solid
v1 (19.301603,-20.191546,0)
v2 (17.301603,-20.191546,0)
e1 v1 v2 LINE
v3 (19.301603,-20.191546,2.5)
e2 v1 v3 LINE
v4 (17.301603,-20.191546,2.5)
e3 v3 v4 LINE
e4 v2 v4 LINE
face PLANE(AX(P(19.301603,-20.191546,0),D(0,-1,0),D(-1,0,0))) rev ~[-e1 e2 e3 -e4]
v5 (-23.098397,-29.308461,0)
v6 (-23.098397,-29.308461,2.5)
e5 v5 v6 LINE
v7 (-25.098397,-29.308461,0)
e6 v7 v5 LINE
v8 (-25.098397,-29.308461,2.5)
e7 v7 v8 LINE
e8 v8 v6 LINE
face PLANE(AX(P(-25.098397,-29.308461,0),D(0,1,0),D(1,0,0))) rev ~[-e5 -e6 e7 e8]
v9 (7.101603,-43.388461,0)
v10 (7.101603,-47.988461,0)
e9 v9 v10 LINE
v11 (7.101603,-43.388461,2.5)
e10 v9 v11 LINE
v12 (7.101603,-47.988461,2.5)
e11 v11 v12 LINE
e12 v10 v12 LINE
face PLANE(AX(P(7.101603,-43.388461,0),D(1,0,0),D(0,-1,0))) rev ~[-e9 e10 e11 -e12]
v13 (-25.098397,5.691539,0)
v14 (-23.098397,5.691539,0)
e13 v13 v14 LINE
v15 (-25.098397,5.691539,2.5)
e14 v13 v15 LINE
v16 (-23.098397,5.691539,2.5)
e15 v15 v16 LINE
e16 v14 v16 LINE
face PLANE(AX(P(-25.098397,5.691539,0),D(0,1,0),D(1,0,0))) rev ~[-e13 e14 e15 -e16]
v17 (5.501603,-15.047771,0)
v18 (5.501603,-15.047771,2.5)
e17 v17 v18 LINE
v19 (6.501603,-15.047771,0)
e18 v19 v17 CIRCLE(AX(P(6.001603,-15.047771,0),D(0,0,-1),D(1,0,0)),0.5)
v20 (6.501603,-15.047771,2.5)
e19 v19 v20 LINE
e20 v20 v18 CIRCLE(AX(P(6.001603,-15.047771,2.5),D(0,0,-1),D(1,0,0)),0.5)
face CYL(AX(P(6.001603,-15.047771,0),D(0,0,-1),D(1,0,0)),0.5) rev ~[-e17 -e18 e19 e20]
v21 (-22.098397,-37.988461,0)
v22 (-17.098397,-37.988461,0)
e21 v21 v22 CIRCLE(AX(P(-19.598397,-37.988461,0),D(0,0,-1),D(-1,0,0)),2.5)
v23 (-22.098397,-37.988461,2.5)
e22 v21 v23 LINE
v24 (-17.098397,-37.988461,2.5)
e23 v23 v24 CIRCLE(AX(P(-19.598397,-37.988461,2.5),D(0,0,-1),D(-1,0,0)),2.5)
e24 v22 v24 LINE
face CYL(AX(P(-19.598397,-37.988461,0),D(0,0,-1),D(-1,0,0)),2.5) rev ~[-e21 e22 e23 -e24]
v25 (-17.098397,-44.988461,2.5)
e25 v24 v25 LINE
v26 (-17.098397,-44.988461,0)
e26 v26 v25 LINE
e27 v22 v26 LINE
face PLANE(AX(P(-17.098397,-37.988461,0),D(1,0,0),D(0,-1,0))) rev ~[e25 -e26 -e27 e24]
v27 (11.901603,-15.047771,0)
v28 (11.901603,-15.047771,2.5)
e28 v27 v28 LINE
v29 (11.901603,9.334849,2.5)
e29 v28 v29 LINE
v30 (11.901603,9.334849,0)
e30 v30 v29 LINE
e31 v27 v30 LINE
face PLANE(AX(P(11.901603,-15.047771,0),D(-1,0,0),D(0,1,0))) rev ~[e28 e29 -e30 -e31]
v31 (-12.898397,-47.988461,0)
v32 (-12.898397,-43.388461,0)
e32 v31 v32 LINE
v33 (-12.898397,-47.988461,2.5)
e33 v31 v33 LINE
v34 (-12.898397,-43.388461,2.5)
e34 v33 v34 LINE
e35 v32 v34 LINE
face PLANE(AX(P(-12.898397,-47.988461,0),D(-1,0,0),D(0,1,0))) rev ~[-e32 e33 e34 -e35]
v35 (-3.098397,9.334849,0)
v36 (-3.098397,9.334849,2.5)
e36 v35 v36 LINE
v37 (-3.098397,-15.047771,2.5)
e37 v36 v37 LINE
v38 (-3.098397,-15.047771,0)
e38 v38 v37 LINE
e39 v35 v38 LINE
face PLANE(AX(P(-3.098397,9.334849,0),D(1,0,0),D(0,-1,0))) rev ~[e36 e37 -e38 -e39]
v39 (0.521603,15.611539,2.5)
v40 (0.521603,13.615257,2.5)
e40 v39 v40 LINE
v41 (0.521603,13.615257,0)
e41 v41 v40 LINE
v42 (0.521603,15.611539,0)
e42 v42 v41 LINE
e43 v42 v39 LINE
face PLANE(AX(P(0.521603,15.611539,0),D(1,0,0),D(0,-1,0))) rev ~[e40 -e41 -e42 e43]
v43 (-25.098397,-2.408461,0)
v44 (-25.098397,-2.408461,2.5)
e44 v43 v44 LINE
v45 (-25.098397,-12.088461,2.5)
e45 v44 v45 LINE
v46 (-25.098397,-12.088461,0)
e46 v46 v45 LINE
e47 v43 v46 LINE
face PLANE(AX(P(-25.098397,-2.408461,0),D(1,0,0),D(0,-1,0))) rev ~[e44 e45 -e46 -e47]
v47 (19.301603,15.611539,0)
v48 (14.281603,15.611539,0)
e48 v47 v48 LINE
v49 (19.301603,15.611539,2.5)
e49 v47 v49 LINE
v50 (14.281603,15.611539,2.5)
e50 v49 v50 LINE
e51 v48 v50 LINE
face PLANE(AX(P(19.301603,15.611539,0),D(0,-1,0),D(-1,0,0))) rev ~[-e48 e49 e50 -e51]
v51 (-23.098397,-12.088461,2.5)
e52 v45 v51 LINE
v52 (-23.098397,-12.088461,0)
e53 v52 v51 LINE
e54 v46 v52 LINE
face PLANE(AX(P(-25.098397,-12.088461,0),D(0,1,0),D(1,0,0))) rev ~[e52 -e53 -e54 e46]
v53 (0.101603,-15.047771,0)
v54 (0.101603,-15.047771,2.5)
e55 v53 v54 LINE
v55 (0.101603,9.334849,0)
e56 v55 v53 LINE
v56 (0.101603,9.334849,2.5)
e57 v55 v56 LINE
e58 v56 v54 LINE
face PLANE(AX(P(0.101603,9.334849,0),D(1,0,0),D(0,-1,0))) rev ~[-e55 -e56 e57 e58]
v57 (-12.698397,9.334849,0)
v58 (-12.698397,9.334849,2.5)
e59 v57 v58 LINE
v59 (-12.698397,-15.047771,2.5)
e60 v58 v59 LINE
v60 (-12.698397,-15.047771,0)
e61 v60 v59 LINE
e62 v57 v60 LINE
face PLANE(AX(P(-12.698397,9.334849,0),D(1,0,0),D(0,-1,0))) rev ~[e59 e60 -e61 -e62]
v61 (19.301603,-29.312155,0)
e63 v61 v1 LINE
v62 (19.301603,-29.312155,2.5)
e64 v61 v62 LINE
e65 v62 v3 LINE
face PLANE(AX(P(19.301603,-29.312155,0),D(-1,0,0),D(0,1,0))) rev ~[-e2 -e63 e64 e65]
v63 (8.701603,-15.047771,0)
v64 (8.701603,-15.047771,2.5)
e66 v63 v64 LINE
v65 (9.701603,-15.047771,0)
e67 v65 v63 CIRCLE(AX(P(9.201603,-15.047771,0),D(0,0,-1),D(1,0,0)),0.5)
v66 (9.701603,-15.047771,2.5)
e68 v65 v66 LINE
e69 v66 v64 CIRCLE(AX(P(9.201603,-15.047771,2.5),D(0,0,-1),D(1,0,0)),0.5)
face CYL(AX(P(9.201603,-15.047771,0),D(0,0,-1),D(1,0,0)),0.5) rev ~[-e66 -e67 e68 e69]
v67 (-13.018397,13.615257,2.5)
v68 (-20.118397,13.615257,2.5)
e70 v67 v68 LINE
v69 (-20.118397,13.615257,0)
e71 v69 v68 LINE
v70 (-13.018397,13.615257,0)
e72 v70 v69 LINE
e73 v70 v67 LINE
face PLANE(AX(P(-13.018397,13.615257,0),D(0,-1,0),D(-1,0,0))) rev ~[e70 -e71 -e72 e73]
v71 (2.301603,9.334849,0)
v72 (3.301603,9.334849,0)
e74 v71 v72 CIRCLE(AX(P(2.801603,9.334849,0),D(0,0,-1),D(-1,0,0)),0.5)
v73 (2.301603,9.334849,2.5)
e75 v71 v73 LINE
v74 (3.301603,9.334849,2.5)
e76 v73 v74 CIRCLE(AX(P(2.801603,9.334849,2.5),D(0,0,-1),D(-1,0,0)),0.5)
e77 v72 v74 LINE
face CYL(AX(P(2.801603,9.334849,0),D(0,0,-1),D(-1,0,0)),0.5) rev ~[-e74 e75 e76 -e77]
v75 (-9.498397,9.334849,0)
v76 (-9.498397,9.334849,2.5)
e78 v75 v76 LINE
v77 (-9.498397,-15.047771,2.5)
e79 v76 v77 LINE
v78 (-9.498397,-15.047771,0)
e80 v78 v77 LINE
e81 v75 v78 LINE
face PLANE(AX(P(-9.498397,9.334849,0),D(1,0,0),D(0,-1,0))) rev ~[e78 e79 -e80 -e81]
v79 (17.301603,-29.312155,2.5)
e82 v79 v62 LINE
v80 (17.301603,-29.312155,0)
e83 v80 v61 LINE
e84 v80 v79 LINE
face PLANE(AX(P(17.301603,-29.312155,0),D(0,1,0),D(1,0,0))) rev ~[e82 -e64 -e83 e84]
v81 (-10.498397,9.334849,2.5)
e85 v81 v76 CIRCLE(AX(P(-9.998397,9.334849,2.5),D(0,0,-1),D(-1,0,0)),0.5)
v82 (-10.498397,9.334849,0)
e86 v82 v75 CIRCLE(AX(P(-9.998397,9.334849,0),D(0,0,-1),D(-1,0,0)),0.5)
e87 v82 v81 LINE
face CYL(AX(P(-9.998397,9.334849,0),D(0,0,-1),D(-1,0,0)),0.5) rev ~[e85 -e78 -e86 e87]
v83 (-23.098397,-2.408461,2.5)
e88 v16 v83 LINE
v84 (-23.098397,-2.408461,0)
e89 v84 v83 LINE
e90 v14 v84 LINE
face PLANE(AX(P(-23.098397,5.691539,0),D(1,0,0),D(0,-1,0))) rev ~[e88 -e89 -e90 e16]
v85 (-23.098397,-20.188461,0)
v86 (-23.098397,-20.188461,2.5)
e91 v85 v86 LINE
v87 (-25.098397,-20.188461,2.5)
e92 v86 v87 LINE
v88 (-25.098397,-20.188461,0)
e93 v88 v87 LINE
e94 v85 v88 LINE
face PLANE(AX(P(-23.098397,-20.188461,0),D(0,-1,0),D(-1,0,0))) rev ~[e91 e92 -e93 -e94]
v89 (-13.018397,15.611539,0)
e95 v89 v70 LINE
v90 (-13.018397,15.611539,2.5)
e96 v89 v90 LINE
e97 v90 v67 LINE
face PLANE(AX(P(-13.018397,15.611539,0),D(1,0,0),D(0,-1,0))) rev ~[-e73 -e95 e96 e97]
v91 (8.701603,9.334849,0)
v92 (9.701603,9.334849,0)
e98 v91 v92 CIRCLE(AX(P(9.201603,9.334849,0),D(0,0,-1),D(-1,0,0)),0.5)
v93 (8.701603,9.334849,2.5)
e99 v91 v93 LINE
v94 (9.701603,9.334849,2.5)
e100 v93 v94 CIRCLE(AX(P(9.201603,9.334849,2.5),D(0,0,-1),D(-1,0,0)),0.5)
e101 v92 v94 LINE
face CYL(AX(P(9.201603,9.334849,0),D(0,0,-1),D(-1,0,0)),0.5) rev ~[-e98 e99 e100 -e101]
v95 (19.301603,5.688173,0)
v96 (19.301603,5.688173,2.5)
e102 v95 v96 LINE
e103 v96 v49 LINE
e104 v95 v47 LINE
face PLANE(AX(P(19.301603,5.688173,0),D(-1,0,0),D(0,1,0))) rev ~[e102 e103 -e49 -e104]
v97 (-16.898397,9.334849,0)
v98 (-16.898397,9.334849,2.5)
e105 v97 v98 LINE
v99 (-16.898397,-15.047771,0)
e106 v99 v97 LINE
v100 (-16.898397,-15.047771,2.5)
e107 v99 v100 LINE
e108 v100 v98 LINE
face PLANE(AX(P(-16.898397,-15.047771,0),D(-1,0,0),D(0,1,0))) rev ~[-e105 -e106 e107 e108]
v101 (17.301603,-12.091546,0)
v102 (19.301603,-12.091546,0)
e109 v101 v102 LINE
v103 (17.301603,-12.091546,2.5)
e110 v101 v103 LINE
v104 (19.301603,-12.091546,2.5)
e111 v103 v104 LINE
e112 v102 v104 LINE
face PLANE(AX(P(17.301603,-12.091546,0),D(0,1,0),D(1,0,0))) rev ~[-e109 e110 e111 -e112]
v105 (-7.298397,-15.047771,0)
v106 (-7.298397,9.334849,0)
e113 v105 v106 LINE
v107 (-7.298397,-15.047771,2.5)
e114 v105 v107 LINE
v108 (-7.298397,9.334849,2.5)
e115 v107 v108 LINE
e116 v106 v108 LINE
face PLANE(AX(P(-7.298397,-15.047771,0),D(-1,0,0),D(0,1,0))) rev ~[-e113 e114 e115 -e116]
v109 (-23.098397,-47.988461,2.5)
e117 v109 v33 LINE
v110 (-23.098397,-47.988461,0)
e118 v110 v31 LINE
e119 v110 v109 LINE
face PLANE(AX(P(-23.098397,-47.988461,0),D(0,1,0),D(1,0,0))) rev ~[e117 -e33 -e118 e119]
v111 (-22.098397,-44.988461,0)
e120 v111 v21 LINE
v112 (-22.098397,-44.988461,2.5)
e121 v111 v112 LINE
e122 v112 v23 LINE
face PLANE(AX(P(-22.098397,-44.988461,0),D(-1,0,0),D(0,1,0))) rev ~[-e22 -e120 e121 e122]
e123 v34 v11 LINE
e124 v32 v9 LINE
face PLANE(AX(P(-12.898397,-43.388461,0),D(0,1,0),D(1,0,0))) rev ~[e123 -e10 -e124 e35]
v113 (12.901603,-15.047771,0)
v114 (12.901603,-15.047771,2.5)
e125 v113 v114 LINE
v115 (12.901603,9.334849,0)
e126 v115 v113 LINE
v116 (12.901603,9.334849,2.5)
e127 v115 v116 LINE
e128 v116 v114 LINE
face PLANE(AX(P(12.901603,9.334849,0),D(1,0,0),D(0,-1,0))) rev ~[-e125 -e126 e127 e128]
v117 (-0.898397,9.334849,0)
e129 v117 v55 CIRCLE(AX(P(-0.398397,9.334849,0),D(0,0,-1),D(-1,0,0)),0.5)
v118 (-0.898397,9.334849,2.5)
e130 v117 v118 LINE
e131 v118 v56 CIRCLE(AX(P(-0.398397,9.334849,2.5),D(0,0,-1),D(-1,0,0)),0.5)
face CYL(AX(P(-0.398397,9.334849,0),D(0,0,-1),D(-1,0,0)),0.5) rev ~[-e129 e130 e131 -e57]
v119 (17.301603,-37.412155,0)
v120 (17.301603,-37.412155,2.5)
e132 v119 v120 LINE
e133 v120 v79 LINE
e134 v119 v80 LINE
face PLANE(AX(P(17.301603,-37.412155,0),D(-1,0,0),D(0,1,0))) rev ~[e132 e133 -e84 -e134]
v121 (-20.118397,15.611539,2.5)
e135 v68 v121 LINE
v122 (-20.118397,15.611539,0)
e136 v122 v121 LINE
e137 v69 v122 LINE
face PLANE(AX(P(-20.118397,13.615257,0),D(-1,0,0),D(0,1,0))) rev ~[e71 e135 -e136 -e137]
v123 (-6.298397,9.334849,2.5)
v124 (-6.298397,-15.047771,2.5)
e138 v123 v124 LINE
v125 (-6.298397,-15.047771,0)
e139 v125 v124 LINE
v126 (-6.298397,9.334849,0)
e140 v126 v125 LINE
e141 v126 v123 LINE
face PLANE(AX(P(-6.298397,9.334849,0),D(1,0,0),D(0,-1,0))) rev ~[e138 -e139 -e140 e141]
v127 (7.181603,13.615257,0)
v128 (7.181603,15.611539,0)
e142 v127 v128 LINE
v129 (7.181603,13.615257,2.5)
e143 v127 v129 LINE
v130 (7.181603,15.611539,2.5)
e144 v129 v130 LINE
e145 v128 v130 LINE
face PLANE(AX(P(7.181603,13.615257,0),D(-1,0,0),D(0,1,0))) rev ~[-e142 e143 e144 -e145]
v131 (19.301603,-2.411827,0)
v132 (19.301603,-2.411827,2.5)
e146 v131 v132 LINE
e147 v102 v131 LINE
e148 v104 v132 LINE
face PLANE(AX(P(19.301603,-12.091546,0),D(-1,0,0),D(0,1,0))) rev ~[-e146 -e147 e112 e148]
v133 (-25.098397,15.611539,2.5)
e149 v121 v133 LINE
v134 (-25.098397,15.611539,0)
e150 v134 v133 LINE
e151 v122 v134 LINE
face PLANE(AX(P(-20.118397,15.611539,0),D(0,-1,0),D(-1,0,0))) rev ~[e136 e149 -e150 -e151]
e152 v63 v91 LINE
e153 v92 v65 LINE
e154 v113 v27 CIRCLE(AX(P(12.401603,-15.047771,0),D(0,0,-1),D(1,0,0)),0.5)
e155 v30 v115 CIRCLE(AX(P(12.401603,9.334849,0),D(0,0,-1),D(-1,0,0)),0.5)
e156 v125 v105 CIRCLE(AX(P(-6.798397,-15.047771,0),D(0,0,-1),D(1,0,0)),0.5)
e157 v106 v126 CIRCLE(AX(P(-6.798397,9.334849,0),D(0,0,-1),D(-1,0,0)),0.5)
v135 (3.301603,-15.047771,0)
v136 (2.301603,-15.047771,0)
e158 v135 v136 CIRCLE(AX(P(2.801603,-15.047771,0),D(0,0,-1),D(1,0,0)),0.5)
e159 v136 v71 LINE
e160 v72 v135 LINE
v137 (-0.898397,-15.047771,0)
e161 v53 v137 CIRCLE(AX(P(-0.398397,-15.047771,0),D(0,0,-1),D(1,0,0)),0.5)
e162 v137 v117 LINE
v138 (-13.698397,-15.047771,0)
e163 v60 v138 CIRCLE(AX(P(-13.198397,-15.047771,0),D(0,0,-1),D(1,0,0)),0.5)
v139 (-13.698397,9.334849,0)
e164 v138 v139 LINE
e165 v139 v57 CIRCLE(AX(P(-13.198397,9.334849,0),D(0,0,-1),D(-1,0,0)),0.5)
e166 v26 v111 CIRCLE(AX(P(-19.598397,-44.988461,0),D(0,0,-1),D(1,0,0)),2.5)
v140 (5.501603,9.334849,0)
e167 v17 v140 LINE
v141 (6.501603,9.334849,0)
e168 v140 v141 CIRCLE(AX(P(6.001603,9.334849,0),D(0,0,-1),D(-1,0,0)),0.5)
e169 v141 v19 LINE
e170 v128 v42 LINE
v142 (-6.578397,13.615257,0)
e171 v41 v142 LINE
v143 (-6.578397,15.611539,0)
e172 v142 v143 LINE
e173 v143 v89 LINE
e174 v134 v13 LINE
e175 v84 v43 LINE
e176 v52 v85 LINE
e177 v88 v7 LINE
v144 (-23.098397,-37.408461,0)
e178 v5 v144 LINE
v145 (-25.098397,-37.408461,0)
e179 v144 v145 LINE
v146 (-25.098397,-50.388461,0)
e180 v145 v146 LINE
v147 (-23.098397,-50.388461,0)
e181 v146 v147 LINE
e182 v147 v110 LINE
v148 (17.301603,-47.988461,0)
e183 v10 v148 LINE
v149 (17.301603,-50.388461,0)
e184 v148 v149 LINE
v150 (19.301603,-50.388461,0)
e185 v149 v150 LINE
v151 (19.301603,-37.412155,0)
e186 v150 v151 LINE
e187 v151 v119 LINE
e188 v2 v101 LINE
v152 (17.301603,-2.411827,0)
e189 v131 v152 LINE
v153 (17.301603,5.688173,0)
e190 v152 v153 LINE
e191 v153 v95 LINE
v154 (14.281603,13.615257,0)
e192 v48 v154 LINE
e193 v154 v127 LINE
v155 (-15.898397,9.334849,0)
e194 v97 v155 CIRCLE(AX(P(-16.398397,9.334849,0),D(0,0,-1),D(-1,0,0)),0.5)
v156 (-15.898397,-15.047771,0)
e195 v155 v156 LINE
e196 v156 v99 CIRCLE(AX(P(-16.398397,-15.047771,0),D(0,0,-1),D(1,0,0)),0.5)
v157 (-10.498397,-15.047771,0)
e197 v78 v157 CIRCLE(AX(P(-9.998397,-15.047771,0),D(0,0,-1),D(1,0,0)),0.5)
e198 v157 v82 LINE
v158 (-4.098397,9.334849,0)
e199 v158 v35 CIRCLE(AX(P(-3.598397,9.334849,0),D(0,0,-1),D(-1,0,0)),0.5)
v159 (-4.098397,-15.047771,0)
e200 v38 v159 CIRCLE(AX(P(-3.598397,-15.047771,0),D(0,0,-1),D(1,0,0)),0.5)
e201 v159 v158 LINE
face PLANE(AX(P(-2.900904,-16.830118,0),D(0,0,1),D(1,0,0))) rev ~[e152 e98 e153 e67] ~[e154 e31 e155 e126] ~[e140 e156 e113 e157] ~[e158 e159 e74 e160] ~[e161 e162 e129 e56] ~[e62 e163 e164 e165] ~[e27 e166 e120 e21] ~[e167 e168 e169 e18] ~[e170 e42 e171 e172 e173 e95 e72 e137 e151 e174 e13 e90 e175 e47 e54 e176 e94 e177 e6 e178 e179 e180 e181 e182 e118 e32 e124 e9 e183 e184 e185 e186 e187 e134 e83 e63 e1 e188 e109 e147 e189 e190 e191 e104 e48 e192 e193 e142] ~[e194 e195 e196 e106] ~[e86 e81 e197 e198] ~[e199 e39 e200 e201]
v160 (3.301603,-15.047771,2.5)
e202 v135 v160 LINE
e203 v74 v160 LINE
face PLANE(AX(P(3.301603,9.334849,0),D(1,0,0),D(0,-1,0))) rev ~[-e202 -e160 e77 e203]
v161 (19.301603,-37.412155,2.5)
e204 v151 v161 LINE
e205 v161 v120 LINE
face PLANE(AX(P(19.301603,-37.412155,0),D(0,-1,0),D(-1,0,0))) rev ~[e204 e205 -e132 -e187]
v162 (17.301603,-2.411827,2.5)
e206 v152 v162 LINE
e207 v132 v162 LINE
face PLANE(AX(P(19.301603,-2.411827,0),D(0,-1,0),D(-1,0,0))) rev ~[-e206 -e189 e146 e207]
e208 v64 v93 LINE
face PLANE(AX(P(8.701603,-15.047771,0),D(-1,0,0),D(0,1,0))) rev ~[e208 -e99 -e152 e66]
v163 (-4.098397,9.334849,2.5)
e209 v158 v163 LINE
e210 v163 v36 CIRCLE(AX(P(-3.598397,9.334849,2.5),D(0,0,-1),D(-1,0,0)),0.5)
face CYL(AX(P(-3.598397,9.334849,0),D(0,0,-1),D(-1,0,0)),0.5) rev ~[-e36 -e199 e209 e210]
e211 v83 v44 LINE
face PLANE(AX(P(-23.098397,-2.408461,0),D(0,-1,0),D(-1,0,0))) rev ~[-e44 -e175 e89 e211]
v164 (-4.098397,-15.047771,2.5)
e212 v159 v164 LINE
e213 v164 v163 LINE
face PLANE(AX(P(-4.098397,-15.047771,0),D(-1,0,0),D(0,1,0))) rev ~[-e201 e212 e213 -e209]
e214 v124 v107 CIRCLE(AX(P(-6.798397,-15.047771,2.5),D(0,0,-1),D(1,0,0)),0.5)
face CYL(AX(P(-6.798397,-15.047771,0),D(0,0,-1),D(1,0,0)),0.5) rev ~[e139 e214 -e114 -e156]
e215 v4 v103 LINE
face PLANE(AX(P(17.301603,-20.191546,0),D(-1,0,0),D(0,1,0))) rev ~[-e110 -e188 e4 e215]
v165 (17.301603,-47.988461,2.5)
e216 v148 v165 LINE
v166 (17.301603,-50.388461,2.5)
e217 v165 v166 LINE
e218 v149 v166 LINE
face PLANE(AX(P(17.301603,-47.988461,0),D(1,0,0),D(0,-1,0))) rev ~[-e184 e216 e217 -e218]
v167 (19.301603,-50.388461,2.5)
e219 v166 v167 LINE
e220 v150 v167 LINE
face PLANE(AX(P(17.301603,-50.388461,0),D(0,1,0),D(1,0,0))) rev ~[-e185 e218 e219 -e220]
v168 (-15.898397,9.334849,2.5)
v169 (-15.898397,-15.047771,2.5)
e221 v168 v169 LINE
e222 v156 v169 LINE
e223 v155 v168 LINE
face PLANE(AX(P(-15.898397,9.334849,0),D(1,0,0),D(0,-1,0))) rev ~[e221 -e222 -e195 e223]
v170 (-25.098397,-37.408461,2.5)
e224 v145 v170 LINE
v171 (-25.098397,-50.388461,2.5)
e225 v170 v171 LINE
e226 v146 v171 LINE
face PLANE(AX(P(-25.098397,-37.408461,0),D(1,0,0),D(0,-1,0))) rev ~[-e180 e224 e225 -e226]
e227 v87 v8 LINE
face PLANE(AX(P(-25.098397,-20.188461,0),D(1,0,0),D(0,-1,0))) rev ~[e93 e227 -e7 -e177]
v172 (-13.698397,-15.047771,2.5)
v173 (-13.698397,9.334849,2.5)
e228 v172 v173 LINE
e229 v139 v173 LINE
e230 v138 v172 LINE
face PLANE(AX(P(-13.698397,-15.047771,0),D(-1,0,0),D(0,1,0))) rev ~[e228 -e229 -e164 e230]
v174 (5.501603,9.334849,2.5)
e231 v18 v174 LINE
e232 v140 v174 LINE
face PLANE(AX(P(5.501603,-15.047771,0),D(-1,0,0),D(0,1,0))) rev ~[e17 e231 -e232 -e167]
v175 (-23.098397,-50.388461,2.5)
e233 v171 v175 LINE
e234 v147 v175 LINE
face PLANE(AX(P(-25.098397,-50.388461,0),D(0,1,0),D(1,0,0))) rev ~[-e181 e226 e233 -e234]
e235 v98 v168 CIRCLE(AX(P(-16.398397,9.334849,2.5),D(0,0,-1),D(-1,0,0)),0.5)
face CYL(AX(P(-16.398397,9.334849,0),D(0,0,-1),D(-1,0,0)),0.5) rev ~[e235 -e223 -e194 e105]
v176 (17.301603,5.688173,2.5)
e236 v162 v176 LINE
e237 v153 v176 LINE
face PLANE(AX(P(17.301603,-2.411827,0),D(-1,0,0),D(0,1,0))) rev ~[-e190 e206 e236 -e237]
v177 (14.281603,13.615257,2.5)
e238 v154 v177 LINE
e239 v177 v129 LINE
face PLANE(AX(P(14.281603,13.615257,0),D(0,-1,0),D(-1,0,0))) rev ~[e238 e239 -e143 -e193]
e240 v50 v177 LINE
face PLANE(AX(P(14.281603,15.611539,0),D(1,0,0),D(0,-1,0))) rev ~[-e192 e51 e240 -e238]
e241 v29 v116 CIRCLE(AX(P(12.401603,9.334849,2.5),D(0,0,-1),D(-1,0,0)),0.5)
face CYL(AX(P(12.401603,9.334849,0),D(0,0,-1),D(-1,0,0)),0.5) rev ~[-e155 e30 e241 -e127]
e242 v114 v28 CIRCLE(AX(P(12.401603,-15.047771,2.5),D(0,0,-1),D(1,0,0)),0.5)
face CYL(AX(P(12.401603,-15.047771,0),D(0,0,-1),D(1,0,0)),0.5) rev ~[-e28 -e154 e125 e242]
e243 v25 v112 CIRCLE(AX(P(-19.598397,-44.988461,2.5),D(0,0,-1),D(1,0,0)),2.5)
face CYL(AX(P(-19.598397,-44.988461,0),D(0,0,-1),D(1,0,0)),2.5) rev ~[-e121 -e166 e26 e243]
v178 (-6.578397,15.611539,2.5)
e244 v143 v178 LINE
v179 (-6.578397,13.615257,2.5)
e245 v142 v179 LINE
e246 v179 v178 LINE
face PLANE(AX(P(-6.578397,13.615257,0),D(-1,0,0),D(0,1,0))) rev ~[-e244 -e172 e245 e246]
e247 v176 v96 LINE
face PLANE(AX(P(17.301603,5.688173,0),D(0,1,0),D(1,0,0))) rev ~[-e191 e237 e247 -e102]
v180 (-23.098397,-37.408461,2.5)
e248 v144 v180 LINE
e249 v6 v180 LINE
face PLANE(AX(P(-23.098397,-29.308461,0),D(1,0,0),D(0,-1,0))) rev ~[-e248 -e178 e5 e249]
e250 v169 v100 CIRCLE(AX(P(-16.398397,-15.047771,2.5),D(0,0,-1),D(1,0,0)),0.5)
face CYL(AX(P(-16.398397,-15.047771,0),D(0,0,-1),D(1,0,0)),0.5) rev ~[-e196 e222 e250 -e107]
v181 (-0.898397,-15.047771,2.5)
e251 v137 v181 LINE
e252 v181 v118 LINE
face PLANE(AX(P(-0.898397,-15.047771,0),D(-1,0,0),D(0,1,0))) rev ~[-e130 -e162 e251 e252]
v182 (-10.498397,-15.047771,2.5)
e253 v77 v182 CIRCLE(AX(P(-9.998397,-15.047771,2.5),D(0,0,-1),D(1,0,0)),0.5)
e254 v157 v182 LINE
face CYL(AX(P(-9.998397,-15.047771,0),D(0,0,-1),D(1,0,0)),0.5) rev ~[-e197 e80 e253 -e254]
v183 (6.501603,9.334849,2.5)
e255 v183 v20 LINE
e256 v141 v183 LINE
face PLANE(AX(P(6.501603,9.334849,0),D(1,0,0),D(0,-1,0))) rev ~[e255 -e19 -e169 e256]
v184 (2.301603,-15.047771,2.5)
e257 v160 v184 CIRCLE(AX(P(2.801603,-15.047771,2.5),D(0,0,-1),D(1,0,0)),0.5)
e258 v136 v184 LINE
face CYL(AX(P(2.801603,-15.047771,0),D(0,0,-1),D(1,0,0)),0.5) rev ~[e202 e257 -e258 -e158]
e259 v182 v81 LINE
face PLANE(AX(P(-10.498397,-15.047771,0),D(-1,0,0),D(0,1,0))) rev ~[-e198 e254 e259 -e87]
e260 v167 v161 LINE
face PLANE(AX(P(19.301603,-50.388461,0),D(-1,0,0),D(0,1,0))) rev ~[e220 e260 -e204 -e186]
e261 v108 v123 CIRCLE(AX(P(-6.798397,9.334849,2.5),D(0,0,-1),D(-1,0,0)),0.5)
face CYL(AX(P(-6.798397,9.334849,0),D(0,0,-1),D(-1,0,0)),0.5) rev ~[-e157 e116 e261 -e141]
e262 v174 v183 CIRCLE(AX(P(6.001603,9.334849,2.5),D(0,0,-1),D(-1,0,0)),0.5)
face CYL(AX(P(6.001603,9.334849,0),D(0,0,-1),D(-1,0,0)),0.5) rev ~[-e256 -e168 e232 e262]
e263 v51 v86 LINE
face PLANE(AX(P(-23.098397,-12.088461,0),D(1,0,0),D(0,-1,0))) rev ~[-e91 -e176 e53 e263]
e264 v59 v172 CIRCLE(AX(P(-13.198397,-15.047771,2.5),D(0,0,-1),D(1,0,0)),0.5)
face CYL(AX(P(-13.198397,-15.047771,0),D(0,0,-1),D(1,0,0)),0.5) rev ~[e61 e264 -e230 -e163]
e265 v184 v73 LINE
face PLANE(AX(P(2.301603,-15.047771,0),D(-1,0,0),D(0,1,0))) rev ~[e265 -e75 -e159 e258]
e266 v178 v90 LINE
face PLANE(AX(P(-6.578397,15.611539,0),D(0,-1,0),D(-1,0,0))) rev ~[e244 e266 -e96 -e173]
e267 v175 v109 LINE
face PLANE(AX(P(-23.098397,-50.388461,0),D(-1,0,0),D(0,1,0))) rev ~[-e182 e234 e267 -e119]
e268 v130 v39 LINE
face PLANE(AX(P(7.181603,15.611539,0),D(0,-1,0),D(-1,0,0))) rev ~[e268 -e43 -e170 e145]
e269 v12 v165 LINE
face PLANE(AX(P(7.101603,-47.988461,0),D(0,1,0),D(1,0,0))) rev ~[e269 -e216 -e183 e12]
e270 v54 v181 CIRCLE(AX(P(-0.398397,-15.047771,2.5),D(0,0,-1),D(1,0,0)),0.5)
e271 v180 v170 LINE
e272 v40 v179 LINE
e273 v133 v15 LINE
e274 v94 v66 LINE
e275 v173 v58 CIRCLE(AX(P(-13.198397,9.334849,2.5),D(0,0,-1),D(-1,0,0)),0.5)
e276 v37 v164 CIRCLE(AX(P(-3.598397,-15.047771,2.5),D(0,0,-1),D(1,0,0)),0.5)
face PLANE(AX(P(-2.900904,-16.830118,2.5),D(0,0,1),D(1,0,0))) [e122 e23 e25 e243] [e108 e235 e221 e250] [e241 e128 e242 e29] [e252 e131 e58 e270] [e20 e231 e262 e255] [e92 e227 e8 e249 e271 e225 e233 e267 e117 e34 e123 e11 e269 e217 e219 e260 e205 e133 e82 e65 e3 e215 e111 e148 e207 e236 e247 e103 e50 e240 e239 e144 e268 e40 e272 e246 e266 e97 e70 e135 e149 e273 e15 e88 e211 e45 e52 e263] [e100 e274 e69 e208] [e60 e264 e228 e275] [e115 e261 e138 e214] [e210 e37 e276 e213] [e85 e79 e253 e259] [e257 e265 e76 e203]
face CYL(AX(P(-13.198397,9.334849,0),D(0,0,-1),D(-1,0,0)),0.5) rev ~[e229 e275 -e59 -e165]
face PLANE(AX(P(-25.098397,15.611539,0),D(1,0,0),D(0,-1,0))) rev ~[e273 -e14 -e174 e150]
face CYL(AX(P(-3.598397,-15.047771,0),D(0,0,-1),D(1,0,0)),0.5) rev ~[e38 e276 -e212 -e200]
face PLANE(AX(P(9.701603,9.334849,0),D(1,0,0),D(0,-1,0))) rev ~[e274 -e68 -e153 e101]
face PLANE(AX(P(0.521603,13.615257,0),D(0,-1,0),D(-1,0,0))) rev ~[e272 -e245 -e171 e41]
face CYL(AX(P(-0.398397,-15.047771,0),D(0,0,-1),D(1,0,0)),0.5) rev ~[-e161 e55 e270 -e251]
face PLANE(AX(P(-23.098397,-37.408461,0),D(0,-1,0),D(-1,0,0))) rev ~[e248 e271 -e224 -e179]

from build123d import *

# Parameters (mm, degrees)
RESSALTO_EXTRUS_O1_DEPTH = 2.5


with BuildPart() as part:
    # Esboço1 → Ressalto-extrusão1 (new body)
    with BuildSketch(Plane.XY):
        Polygon((-25.098396903, -50.388461043), (-23.098396903, -50.388461043), (-23.098396903, -47.988461043), (-12.898396903, -47.988461043), (-12.898396903, -43.388461043), (7.101603097, -43.388461043), (7.101603097, -47.988461043), (17.301603097, -47.988461043), (17.301603097, -50.388461043), (19.301603097, -50.388461043), (19.301603097, -37.412155135), (17.301603097, -37.412155135), (17.301603097, -29.312155135), (19.301603097, -29.312155135), (19.301603097, -20.19154649), (17.301603097, -20.19154649), (17.301603097, -12.09154649), (19.301603097, -12.09154649), (19.301603097, -2.411827174), (17.301603097, -2.411827174), (17.301603097, 5.688172826), (19.301603097, 5.688172826), (19.301603097, 15.611538957), (14.281603097, 15.611538957), (14.281603097, 13.615257293), (7.181603097, 13.615257293), (7.181603097, 15.611538957), (0.521603097, 15.611538957), (0.521603097, 13.615257293), (-6.578396903, 13.615257293), (-6.578396903, 15.611538957), (-13.018396903, 15.611538957), (-13.018396903, 13.615257293), (-20.118396903, 13.615257293), (-20.118396903, 15.611538957), (-25.098396903, 15.611538957), (-25.098396903, 5.691538957), (-23.098396903, 5.691538957), (-23.098396903, -2.408461043), (-25.098396903, -2.408461043), (-25.098396903, -12.088461043), (-23.098396903, -12.088461043), (-23.098396903, -20.188461043), (-25.098396903, -20.188461043), (-25.098396903, -29.308461043), (-23.098396903, -29.308461043), (-23.098396903, -37.408461043), (-25.098396903, -37.408461043), align=None)
        with BuildLine():
            ThreePointArc((-22.098396903, -37.988461043), (-19.598396903, -35.488461043), (-17.098396903, -37.988461043))
            Line((-17.098396903, -37.988461043), (-17.098396903, -44.988461043))
            ThreePointArc((-17.098396903, -44.988461043), (-19.598396903, -47.488461043), (-22.098396903, -44.988461043))
            Line((-22.098396903, -44.988461043), (-22.098396903, -37.988461043))
        make_face(mode=Mode.SUBTRACT)
        with BuildLine():
            ThreePointArc((-16.898396903, 9.334849068), (-16.398396903, 9.834849068), (-15.898396903, 9.334849068))
            Line((-15.898396903, 9.334849068), (-15.898396903, -15.047771388))
            ThreePointArc((-15.898396903, -15.047771388), (-16.398396903, -15.547771388), (-16.898396903, -15.047771388))
            Line((-16.898396903, -15.047771388), (-16.898396903, 9.334849068))
        make_face(mode=Mode.SUBTRACT)
        with BuildLine():
            ThreePointArc((-13.698396903, 9.334849068), (-13.198396903, 9.834849068), (-12.698396903, 9.334849068))
            Line((-12.698396903, 9.334849068), (-12.698396903, -15.047771388))
            ThreePointArc((-12.698396903, -15.047771388), (-13.198396903, -15.547771388), (-13.698396903, -15.047771388))
            Line((-13.698396903, -15.047771388), (-13.698396903, 9.334849068))
        make_face(mode=Mode.SUBTRACT)
        with BuildLine():
            ThreePointArc((-10.498396903, 9.334849068), (-9.998396903, 9.834849068), (-9.498396903, 9.334849068))
            Line((-9.498396903, 9.334849068), (-9.498396903, -15.047771388))
            ThreePointArc((-9.498396903, -15.047771388), (-9.998396903, -15.547771388), (-10.498396903, -15.047771388))
            Line((-10.498396903, -15.047771388), (-10.498396903, 9.334849068))
        make_face(mode=Mode.SUBTRACT)
        with BuildLine():
            ThreePointArc((-7.298396903, 9.334849068), (-6.798396903, 9.834849068), (-6.298396903, 9.334849068))
            Line((-6.298396903, 9.334849068), (-6.298396903, -15.047771388))
            ThreePointArc((-6.298396903, -15.047771388), (-6.798396903, -15.547771388), (-7.298396903, -15.047771388))
            Line((-7.298396903, -15.047771388), (-7.298396903, 9.334849068))
        make_face(mode=Mode.SUBTRACT)
        with BuildLine():
            ThreePointArc((-4.098396903, 9.334849068), (-3.598396903, 9.834849068), (-3.098396903, 9.334849068))
            Line((-3.098396903, 9.334849068), (-3.098396903, -15.047771388))
            ThreePointArc((-3.098396903, -15.047771388), (-3.598396903, -15.547771388), (-4.098396903, -15.047771388))
            Line((-4.098396903, -15.047771388), (-4.098396903, 9.334849068))
        make_face(mode=Mode.SUBTRACT)
        with BuildLine():
            ThreePointArc((-0.898396903, 9.334849068), (-0.398396903, 9.834849068), (0.101603097, 9.334849068))
            Line((0.101603097, 9.334849068), (0.101603097, -15.047771388))
            ThreePointArc((0.101603097, -15.047771388), (-0.398396903, -15.547771388), (-0.898396903, -15.047771388))
            Line((-0.898396903, -15.047771388), (-0.898396903, 9.334849068))
        make_face(mode=Mode.SUBTRACT)
        with BuildLine():
            ThreePointArc((2.301603097, 9.334849068), (2.801603097, 9.834849068), (3.301603097, 9.334849068))
            Line((3.301603097, 9.334849068), (3.301603097, -15.047771388))
            ThreePointArc((3.301603097, -15.047771388), (2.801603097, -15.547771388), (2.301603097, -15.047771388))
            Line((2.301603097, -15.047771388), (2.301603097, 9.334849068))
        make_face(mode=Mode.SUBTRACT)
        with BuildLine():
            ThreePointArc((5.501603097, 9.334849068), (6.001603097, 9.834849068), (6.501603097, 9.334849068))
            Line((6.501603097, 9.334849068), (6.501603097, -15.047771388))
            ThreePointArc((6.501603097, -15.047771388), (6.001603097, -15.547771388), (5.501603097, -15.047771388))
            Line((5.501603097, -15.047771388), (5.501603097, 9.334849068))
        make_face(mode=Mode.SUBTRACT)
        with BuildLine():
            ThreePointArc((8.701603097, 9.334849068), (9.201603097, 9.834849068), (9.701603097, 9.334849068))
            Line((9.701603097, 9.334849068), (9.701603097, -15.047771388))
            ThreePointArc((9.701603097, -15.047771388), (9.201603097, -15.547771388), (8.701603097, -15.047771388))
            Line((8.701603097, -15.047771388), (8.701603097, 9.334849068))
        make_face(mode=Mode.SUBTRACT)
        with BuildLine():
            ThreePointArc((11.901603097, 9.334849068), (12.401603097, 9.834849068), (12.901603097, 9.334849068))
            Line((12.901603097, 9.334849068), (12.901603097, -15.047771388))
            ThreePointArc((12.901603097, -15.047771388), (12.401603097, -15.547771388), (11.901603097, -15.047771388))
            Line((11.901603097, -15.047771388), (11.901603097, 9.334849068))
        make_face(mode=Mode.SUBTRACT)
    extrude(amount=RESSALTO_EXTRUS_O1_DEPTH)


solid = part.part
